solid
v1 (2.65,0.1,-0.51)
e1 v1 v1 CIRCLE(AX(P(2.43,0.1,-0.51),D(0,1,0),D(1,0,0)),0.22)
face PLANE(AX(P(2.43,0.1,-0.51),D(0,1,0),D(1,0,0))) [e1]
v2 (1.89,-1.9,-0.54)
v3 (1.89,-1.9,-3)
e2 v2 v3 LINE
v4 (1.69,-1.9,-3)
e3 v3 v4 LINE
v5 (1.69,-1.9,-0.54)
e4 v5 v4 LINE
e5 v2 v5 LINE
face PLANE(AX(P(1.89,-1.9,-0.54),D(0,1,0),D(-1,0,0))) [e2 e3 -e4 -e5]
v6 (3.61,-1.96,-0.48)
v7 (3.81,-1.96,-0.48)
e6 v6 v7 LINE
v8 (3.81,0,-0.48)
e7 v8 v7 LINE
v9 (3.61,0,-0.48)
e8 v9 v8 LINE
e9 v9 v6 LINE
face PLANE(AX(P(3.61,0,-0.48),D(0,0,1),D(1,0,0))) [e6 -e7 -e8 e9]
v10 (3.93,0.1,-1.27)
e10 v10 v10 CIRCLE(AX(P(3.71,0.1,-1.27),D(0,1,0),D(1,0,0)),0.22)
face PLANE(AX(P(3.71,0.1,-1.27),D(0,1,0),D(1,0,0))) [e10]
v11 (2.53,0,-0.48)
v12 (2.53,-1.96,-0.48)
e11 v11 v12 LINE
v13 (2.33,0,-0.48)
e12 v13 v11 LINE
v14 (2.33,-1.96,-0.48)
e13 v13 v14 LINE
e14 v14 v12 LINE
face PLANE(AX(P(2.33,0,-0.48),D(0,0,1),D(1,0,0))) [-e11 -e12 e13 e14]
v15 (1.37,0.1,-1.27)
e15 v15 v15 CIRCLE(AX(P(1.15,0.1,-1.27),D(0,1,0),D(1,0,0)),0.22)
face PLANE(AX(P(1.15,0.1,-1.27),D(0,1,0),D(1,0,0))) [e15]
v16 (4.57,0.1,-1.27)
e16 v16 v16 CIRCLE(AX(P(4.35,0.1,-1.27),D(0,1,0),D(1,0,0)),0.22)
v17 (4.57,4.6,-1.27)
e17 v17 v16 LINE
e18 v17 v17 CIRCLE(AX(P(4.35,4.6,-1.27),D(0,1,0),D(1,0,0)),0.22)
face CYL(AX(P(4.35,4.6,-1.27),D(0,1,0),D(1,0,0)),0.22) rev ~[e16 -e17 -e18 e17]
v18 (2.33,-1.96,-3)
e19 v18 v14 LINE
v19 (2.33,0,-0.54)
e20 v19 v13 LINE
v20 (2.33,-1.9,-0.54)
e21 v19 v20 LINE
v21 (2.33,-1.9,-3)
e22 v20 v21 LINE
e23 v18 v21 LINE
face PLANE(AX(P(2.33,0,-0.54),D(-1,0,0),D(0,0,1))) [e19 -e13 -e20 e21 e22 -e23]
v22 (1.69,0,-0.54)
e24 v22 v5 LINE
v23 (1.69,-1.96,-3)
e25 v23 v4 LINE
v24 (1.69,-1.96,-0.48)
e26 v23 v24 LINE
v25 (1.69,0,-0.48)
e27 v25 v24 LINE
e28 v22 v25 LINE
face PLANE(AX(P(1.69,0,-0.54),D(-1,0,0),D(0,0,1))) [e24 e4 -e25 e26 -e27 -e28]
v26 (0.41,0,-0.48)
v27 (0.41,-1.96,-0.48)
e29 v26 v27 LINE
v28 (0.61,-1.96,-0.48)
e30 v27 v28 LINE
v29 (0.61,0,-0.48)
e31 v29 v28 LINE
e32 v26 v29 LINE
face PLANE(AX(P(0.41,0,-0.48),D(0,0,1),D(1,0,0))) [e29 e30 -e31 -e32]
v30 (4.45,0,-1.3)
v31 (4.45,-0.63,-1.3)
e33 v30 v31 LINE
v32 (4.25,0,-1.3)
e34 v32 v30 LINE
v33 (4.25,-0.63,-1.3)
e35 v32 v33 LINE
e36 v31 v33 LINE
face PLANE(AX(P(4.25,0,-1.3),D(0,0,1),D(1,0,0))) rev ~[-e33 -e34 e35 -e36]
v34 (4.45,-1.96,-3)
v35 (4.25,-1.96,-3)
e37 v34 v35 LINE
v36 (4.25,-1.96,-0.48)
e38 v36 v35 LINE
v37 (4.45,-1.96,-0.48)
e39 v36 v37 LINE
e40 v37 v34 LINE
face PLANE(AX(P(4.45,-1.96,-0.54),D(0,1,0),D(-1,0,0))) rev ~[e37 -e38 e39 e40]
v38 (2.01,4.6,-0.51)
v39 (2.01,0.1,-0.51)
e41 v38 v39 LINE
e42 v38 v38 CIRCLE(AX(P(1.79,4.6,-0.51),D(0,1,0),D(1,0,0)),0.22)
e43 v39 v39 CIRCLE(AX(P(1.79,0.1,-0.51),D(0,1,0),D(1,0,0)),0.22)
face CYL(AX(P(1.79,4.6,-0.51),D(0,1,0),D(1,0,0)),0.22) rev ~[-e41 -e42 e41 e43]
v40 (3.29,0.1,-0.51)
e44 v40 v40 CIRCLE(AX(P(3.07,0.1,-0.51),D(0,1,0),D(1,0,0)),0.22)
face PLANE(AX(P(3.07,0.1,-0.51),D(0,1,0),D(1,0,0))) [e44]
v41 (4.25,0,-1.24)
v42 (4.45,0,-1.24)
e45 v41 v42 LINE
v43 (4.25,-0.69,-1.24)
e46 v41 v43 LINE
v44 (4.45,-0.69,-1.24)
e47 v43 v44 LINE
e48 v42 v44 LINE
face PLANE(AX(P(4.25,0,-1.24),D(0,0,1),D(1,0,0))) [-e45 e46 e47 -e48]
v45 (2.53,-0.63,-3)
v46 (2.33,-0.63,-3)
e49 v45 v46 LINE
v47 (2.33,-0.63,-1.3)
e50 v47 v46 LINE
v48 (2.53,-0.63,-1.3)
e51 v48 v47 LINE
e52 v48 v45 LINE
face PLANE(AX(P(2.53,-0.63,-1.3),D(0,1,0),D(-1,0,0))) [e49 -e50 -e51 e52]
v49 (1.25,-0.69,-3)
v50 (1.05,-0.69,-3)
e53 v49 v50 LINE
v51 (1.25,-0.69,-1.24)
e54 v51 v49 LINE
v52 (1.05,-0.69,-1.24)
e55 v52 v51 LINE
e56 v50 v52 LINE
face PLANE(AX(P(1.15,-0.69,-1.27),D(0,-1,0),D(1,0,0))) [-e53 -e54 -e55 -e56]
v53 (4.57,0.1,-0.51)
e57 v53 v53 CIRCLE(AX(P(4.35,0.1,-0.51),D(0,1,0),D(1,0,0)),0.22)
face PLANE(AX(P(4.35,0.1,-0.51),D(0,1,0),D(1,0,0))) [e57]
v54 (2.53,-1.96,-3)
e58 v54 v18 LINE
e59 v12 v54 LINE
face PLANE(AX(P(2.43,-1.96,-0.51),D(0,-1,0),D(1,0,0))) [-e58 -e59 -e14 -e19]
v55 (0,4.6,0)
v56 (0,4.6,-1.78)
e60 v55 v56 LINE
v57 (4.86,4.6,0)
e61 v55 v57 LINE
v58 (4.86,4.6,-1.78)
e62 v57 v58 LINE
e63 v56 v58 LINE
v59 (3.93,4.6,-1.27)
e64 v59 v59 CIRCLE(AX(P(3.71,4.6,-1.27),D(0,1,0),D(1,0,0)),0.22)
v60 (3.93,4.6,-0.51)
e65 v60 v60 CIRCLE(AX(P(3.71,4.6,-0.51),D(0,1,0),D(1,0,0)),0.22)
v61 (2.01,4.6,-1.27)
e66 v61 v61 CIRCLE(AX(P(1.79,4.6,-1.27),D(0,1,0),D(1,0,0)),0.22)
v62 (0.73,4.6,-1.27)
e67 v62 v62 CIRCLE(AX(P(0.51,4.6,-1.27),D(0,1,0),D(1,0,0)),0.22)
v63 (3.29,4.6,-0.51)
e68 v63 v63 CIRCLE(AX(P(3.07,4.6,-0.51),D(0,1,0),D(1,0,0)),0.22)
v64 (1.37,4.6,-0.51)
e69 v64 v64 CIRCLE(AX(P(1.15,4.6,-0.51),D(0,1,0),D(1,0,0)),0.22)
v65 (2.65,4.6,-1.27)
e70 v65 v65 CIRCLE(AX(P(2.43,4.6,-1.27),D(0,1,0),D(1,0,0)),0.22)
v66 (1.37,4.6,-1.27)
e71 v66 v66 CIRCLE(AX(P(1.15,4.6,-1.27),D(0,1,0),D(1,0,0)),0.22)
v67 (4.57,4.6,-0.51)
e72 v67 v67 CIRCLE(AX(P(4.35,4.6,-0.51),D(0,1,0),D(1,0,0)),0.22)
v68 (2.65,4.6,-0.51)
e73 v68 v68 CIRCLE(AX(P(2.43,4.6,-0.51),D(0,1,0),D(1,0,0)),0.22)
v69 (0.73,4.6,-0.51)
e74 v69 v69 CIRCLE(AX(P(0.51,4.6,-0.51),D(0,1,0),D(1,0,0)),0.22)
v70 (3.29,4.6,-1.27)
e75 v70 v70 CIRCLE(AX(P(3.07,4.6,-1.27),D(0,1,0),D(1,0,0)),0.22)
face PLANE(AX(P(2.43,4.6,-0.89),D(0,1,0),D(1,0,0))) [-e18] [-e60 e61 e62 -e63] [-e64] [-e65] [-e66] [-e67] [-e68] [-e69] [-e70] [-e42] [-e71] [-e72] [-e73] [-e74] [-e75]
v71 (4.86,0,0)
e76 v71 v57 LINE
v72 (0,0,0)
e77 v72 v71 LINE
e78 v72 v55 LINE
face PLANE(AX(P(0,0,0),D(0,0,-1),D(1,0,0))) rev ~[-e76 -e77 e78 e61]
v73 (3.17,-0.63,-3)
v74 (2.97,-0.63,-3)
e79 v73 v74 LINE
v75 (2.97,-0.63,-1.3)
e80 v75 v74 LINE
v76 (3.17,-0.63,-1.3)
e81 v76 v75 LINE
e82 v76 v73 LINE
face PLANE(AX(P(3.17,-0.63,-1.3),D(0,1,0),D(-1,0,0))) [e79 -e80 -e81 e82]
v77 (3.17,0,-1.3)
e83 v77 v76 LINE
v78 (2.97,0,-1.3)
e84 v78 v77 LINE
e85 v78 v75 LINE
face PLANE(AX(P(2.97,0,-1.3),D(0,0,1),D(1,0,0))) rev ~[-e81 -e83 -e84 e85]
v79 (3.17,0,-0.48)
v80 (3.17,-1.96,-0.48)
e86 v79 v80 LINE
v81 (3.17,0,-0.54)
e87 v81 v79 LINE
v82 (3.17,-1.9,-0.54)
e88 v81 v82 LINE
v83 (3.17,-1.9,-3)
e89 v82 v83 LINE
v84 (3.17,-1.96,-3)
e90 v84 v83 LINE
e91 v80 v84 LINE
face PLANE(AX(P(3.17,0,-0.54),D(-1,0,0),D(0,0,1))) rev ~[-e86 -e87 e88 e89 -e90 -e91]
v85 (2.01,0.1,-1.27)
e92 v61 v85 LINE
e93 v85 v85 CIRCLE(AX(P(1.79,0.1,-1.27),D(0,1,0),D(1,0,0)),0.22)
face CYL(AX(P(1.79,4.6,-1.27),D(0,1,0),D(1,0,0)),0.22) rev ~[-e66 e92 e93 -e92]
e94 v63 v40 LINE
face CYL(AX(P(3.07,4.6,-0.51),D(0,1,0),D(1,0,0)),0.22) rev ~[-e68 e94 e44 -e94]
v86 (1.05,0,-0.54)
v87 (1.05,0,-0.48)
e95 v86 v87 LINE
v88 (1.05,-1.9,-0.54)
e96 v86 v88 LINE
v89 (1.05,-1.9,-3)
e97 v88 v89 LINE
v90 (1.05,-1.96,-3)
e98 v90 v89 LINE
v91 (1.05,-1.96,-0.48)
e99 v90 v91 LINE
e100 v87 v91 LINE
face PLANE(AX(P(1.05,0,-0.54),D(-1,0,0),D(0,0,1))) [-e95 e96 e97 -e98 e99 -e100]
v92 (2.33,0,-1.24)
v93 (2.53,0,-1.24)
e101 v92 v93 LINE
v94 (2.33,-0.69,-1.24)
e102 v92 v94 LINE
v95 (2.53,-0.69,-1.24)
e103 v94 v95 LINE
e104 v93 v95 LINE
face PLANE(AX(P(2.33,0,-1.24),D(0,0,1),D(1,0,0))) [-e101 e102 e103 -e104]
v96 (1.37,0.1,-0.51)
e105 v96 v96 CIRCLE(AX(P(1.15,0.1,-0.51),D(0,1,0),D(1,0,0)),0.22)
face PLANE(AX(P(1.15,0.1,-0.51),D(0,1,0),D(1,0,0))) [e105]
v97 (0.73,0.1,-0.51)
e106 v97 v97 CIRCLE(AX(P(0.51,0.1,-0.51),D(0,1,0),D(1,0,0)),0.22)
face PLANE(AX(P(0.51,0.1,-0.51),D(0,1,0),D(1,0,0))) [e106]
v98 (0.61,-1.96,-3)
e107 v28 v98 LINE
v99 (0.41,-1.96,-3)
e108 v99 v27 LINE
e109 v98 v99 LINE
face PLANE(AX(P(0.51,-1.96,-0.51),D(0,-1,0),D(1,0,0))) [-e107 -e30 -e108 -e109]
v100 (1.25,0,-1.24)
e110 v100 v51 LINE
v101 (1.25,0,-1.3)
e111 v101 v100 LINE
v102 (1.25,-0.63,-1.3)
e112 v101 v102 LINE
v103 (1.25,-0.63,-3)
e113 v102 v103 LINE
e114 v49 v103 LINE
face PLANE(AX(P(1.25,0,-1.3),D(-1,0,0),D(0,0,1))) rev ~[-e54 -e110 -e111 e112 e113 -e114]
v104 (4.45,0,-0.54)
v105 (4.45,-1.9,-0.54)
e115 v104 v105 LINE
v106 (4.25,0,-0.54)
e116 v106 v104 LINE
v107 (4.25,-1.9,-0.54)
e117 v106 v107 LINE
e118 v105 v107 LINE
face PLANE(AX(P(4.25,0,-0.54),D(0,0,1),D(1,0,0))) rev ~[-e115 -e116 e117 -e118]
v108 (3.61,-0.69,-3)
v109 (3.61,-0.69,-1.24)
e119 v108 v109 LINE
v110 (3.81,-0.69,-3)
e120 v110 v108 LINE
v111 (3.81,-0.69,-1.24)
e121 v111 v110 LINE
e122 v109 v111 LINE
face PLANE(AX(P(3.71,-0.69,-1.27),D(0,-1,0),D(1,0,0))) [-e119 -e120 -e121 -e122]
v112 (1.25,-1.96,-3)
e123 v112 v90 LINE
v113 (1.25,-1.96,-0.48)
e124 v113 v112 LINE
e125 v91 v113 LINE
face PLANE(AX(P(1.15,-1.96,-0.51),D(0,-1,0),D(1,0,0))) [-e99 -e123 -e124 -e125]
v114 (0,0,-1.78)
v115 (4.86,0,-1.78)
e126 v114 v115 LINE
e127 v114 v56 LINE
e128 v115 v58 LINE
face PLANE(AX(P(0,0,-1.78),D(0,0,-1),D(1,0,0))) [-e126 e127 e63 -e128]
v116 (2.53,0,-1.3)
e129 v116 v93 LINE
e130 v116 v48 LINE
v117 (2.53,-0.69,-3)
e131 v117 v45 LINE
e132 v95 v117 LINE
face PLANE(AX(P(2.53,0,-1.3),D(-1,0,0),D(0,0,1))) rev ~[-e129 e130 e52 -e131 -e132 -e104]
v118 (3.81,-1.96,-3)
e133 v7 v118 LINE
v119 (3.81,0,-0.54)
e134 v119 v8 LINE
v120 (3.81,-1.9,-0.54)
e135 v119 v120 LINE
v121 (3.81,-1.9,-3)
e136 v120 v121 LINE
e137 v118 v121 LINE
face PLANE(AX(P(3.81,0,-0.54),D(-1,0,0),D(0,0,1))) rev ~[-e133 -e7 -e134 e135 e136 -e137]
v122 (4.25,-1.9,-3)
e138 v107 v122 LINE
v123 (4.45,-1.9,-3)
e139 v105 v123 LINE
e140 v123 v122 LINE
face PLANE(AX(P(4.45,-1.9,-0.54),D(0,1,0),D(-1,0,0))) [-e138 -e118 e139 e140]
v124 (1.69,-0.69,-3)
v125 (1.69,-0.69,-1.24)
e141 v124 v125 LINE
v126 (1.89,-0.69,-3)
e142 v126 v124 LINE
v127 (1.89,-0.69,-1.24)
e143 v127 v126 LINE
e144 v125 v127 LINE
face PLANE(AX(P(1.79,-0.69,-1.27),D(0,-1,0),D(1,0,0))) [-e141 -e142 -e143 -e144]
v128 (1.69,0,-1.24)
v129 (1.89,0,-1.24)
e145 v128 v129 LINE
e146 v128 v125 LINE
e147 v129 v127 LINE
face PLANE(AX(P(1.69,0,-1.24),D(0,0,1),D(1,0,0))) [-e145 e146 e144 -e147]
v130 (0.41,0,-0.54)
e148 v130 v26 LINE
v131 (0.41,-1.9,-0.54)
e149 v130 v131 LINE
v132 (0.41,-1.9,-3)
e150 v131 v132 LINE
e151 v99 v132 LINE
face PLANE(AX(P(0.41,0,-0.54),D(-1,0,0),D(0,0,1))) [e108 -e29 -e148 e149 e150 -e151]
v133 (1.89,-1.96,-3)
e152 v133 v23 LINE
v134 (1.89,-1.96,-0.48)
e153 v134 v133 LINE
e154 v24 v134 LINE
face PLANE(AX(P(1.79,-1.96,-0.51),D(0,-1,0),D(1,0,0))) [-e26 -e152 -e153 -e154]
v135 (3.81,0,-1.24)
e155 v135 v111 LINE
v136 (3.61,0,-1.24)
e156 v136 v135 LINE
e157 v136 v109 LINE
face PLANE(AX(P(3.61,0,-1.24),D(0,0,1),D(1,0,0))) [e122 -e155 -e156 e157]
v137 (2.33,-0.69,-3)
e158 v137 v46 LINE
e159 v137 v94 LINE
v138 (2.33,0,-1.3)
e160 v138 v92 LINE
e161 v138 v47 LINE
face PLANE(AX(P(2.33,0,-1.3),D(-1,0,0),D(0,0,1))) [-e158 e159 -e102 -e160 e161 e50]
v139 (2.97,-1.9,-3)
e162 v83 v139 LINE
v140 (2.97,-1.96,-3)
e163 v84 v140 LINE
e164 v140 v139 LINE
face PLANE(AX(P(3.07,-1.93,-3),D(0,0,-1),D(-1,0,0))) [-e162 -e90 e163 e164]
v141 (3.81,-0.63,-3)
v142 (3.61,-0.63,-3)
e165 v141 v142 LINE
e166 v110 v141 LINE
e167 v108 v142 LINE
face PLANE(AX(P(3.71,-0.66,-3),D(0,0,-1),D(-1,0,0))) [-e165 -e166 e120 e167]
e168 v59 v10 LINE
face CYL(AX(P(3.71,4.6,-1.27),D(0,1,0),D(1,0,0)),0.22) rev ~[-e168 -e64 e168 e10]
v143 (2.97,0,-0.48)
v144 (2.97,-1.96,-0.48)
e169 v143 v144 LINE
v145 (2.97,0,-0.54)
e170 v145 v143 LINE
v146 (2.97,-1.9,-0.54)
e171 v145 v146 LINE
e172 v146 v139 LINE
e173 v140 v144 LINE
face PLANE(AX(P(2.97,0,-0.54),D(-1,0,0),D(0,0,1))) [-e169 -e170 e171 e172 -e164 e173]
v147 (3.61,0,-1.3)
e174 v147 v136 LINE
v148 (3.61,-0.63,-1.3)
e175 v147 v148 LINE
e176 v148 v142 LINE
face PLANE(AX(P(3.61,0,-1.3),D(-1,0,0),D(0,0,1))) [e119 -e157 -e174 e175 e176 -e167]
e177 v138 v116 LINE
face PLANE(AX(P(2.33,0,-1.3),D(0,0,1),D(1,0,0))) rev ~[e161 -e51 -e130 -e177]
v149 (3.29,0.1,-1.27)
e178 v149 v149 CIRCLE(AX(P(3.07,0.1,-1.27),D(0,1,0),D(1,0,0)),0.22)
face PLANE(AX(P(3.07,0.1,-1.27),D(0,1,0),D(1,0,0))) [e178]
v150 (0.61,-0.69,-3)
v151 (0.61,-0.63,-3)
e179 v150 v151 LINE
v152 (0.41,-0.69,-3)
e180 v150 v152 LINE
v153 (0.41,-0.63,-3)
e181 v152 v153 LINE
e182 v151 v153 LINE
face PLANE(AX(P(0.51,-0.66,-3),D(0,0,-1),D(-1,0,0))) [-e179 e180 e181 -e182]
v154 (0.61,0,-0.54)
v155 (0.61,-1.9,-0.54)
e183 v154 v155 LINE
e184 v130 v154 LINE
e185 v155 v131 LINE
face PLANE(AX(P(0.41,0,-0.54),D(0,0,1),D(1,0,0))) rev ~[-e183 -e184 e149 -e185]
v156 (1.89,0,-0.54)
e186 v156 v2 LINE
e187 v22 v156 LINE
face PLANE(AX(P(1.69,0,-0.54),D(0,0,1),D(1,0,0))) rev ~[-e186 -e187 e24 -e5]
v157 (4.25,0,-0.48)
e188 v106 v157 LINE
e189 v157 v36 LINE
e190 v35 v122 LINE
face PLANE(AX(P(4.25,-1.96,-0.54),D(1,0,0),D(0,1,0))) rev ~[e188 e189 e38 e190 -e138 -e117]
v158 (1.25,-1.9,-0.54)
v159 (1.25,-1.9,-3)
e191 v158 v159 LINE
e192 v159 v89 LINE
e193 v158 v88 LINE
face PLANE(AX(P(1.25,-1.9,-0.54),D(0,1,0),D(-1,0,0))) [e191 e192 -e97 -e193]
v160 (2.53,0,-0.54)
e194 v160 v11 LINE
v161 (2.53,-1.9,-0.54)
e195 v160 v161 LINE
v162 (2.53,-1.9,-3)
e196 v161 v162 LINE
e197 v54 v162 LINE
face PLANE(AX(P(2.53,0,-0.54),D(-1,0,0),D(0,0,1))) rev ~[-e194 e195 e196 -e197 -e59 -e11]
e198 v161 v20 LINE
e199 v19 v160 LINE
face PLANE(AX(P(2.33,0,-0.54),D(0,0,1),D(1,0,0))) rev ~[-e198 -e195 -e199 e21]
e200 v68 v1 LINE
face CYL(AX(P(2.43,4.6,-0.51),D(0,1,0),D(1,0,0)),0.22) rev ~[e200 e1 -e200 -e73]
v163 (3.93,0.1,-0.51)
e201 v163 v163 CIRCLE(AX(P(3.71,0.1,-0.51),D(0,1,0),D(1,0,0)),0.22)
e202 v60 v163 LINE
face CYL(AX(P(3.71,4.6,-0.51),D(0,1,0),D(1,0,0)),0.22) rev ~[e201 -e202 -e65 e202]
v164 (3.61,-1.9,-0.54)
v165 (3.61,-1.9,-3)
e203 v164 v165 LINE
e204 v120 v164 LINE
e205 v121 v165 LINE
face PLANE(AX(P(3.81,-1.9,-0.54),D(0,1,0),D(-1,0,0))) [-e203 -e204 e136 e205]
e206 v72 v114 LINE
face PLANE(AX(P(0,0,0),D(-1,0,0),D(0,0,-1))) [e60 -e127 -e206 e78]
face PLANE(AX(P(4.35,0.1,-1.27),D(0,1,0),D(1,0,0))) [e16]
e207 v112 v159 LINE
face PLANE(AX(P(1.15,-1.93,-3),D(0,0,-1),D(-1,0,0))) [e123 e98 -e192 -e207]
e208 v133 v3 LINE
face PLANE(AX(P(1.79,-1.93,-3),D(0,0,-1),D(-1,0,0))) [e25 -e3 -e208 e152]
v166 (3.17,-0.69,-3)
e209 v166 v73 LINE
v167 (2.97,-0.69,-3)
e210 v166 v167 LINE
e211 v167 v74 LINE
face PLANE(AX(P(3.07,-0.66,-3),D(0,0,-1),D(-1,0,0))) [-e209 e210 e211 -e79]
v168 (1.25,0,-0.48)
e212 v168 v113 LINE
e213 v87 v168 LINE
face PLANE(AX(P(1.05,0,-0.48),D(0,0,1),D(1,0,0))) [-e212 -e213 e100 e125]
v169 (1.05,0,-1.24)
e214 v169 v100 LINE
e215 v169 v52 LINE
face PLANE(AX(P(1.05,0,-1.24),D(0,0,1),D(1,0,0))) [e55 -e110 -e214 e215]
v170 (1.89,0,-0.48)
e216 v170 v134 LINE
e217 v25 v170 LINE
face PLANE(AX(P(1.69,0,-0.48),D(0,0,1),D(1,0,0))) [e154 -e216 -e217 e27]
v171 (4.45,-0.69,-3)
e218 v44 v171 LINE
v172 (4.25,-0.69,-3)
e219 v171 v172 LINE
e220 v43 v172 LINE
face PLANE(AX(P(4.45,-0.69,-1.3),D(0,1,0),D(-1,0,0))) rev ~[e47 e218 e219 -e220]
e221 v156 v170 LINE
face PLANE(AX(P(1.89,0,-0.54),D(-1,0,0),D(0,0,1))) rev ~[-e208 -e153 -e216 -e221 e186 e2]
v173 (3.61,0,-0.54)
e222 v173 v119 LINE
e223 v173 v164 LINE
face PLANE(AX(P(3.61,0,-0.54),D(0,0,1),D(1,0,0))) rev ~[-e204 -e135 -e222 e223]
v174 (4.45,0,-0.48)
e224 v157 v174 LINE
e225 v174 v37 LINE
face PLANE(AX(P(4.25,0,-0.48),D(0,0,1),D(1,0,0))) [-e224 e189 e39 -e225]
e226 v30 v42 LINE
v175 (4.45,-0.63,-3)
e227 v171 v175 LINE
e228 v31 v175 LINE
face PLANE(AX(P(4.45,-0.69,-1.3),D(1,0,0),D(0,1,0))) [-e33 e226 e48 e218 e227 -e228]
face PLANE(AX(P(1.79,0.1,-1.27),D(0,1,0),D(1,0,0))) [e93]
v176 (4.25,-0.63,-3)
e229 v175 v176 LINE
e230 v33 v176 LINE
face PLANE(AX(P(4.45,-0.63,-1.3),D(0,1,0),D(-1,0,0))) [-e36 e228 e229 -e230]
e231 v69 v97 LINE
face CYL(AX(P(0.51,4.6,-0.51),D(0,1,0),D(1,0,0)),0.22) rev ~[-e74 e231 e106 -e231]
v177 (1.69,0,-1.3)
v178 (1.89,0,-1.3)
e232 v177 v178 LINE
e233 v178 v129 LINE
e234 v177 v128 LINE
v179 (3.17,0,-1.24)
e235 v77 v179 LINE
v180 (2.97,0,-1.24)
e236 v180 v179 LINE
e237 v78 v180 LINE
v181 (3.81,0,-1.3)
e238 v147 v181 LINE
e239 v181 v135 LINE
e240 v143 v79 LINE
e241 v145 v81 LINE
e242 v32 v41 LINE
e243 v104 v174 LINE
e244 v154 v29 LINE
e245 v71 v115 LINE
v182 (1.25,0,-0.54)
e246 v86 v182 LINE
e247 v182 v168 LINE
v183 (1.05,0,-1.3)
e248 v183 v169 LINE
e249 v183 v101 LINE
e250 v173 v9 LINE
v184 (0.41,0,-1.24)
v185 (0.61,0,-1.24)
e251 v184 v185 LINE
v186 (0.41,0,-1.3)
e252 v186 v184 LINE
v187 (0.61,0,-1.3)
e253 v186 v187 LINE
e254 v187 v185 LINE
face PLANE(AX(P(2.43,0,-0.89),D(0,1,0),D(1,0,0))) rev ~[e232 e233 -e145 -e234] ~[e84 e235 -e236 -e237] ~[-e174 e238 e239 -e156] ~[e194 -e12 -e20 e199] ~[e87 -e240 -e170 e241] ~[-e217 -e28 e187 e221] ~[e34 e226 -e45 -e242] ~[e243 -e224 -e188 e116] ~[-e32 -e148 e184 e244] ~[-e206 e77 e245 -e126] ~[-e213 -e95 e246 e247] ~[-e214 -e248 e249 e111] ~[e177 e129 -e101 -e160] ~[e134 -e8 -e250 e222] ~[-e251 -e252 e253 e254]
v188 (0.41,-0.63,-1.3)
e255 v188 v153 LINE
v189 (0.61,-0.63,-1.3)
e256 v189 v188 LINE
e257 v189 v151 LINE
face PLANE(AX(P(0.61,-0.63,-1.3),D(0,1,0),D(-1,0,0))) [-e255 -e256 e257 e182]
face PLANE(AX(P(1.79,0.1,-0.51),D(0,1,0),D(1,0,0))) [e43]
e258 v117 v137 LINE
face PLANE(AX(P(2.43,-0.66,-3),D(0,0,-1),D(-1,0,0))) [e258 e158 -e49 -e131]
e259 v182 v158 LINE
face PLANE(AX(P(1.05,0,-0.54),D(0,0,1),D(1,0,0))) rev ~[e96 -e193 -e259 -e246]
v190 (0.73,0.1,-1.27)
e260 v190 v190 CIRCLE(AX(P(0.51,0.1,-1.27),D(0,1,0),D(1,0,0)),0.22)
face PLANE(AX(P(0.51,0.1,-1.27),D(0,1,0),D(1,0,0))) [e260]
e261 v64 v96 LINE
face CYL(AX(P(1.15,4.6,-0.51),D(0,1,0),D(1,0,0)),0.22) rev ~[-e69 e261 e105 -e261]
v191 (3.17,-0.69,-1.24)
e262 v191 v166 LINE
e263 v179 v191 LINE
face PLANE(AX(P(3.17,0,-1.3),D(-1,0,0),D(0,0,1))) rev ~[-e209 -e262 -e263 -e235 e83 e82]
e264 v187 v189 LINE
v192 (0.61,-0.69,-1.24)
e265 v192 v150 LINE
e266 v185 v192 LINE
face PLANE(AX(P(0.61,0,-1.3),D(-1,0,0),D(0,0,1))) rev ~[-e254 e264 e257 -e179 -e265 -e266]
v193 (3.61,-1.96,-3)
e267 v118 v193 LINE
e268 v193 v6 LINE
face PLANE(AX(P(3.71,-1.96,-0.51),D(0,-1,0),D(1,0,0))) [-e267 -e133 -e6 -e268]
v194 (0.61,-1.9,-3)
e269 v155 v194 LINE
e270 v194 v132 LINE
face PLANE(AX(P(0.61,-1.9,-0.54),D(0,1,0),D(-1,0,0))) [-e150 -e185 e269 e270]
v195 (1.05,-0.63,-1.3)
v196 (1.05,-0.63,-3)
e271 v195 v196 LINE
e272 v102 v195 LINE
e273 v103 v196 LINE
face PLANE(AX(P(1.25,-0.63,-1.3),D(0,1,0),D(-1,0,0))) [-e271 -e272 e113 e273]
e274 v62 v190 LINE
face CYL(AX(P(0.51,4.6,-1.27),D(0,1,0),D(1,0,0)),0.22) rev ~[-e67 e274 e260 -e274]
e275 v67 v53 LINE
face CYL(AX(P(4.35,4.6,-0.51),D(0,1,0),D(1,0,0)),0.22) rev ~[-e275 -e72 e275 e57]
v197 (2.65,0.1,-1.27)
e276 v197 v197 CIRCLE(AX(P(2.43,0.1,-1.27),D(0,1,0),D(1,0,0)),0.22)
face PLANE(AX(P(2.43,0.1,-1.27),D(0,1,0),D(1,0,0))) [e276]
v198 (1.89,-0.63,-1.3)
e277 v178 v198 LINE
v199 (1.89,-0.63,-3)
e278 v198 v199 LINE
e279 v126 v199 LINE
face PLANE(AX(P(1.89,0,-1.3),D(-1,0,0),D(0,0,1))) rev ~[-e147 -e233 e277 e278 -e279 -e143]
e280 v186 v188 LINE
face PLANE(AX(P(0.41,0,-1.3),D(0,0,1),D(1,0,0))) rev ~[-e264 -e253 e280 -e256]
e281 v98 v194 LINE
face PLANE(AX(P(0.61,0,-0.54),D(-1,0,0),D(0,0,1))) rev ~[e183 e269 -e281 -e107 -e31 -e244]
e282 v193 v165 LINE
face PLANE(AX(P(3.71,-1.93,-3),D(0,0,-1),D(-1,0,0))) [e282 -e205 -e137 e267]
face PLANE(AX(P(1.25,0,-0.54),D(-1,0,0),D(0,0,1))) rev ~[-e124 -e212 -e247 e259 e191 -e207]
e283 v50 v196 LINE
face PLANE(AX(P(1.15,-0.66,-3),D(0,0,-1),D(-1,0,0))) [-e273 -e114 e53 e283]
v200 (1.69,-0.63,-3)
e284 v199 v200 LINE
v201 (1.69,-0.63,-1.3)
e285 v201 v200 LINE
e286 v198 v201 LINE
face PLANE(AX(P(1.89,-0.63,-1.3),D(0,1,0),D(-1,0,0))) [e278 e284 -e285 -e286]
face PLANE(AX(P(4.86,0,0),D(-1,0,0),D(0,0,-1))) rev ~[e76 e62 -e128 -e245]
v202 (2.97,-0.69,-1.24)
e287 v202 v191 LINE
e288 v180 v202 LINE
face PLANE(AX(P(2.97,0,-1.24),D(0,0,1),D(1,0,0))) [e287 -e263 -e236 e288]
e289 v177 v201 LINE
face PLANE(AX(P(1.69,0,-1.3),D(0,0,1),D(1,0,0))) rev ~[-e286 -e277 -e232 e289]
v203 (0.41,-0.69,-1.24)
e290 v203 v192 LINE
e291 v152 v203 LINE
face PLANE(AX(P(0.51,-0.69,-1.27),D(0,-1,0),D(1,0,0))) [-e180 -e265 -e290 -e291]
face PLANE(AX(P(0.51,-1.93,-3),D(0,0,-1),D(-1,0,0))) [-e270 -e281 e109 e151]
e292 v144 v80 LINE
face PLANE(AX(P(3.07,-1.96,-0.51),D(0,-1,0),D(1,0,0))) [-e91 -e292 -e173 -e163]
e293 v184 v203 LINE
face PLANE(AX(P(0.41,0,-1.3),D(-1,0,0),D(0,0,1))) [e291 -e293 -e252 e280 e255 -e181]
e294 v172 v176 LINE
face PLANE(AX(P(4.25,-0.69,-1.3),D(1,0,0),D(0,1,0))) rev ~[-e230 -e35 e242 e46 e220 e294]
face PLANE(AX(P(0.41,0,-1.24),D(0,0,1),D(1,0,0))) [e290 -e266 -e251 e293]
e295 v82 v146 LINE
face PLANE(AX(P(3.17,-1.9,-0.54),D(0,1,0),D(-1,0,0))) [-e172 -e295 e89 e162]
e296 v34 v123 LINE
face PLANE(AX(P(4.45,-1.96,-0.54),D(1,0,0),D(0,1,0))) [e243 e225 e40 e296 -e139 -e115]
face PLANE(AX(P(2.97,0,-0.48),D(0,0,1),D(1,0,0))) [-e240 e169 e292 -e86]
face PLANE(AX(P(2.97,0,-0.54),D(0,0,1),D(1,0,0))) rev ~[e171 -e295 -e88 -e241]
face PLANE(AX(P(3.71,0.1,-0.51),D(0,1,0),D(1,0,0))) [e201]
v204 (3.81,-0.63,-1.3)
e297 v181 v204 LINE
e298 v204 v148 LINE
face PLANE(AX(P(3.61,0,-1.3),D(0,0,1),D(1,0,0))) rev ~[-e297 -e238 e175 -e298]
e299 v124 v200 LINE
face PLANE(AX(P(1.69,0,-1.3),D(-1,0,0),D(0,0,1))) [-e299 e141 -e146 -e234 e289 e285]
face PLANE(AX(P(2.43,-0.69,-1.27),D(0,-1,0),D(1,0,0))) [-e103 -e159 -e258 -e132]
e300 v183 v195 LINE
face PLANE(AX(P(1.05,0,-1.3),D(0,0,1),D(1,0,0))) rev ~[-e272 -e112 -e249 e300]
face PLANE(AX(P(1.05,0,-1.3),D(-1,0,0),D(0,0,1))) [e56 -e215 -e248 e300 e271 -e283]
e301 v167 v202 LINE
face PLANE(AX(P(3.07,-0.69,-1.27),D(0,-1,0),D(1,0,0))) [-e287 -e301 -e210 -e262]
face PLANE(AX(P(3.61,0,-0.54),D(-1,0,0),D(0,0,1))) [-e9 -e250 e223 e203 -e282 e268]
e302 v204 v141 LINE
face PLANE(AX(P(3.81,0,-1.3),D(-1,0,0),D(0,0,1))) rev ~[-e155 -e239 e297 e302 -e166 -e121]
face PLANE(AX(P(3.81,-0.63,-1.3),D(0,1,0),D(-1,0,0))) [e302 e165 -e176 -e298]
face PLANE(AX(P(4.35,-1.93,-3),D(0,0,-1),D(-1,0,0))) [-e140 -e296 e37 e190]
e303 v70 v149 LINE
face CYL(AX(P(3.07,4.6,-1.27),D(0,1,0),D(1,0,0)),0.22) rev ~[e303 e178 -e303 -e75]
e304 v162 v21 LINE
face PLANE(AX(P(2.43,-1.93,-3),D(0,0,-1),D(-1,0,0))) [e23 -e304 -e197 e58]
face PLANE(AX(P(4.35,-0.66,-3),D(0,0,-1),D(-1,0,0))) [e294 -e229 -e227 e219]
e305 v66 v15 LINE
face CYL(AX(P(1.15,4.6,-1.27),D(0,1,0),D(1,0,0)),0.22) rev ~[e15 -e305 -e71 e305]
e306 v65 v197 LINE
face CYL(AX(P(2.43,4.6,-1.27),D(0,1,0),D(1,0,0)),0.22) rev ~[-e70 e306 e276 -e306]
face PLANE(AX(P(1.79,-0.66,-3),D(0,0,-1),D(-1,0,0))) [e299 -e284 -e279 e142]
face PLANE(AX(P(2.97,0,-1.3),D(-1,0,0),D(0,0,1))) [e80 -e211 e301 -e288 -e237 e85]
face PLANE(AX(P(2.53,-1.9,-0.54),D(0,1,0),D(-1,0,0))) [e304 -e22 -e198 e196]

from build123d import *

# Parameters (mm, degrees)
SKETCH2_W           = 4.86
SKETCH2_H           = 1.78
BOSS_EXTRUDE1_DEPTH = 4.6
SKETCH3_R           = 0.22
CUT_EXTRUDE1_DEPTH  = 4.5
SKETCH4_W           = 0.2
SKETCH4_H           = 0.06
BOSS_EXTRUDE2_DEPTH = 1.96
SKETCH6_W           = 0.2
SKETCH6_H           = 0.06
BOSS_EXTRUDE3_DEPTH = 0.69
SKETCH7_W           = 0.2
SKETCH7_H           = 0.06
BOSS_EXTRUDE4_DEPTH = 1.7
SKETCH8_W           = 0.2
SKETCH8_H           = 0.06
BOSS_EXTRUDE5_DEPTH = 2.46


with BuildPart() as part:
    # Sketch2 → Boss-Extrude1 (new body)
    with BuildSketch(Plane(origin=(0, 0, 0), x_dir=(1, 0, 0), z_dir=(0, 1, 0))):
        with Locations((2.43, 0.89)):
            Rectangle(SKETCH2_W, SKETCH2_H)
    extrude(amount=BOSS_EXTRUDE1_DEPTH)

    # Sketch3 → Cut-Extrude1 (cut)
    with BuildSketch(Plane(origin=(0, 4.6, 0), x_dir=(1, 0, 0), z_dir=(0, 1, 0))):
        with Locations((0.51, 1.27)):
            Circle(SKETCH3_R)
        with Locations((1.15, 1.27)):
            Circle(SKETCH3_R)
        with Locations((1.79, 1.27)):
            Circle(SKETCH3_R)
        with Locations((2.43, 1.27)):
            Circle(SKETCH3_R)
        with Locations((3.07, 1.27)):
            Circle(SKETCH3_R)
        with Locations((3.71, 1.27)):
            Circle(SKETCH3_R)
        with Locations((4.35, 1.27)):
            Circle(SKETCH3_R)
        with Locations((1.15, 0.51)):
            Circle(SKETCH3_R)
        with Locations((1.79, 0.51)):
            Circle(SKETCH3_R)
        with Locations((2.43, 0.51)):
            Circle(SKETCH3_R)
        with Locations((3.07, 0.51)):
            Circle(SKETCH3_R)
        with Locations((3.71, 0.51)):
            Circle(SKETCH3_R)
        with Locations((4.35, 0.51)):
            Circle(SKETCH3_R)
        with Locations((0.51, 0.51)):
            Circle(SKETCH3_R)
    extrude(amount=-CUT_EXTRUDE1_DEPTH, mode=Mode.SUBTRACT)

    # Sketch4 → Boss-Extrude2 (add)
    with BuildSketch(Plane.XZ):
        with Locations((0.51, -0.51)):
            Rectangle(SKETCH4_W, SKETCH4_H)
        with Locations((1.15, -0.51)):
            Rectangle(SKETCH4_W, SKETCH4_H)
        with Locations((1.79, -0.51)):
            Rectangle(SKETCH4_W, SKETCH4_H)
        with Locations((2.43, -0.51)):
            Rectangle(SKETCH4_W, SKETCH4_H)
        with Locations((3.07, -0.51)):
            Rectangle(SKETCH4_W, SKETCH4_H)
        with Locations((3.71, -0.51)):
            Rectangle(SKETCH4_W, SKETCH4_H)
        with Locations((4.35, -0.51)):
            Rectangle(SKETCH4_W, SKETCH4_H)
    extrude(amount=BOSS_EXTRUDE2_DEPTH)

    # Sketch6 → Boss-Extrude3 (add)
    with BuildSketch(Plane.XZ):
        with Locations((0.51, -1.27)):
            Rectangle(SKETCH6_W, SKETCH6_H)
        with Locations((1.15, -1.27)):
            Rectangle(SKETCH6_W, SKETCH6_H)
        with Locations((1.79, -1.27)):
            Rectangle(SKETCH6_W, SKETCH6_H)
        with Locations((2.43, -1.27)):
            Rectangle(SKETCH6_W, SKETCH6_H)
        with Locations((3.07, -1.27)):
            Rectangle(SKETCH6_W, SKETCH6_H)
        with Locations((3.71, -1.27)):
            Rectangle(SKETCH6_W, SKETCH6_H)
        with Locations((4.35, -1.27)):
            Rectangle(SKETCH6_W, SKETCH6_H)
    extrude(amount=BOSS_EXTRUDE3_DEPTH)

    # Sketch7 → Boss-Extrude4 (add)
    with BuildSketch(Plane(origin=(0, 0, -1.3), x_dir=(-1, 0, 0), z_dir=(0, 0, -1))):
        with Locations((-4.35, -0.66)):
            Rectangle(SKETCH7_W, SKETCH7_H)
        with Locations((-3.71, -0.66)):
            Rectangle(SKETCH7_W, SKETCH7_H)
        with Locations((-3.07, -0.66)):
            Rectangle(SKETCH7_W, SKETCH7_H)
        with Locations((-2.43, -0.66)):
            Rectangle(SKETCH7_W, SKETCH7_H)
        with Locations((-1.79, -0.66)):
            Rectangle(SKETCH7_W, SKETCH7_H)
        with Locations((-1.15, -0.66)):
            Rectangle(SKETCH7_W, SKETCH7_H)
        with Locations((-0.51, -0.66)):
            Rectangle(SKETCH7_W, SKETCH7_H)
    extrude(amount=BOSS_EXTRUDE4_DEPTH)

    # Sketch8 → Boss-Extrude5 (add)
    with BuildSketch(Plane(origin=(0, 0, -0.54), x_dir=(-1, 0, 0), z_dir=(0, 0, -1))):
        with Locations((-4.35, -1.93)):
            Rectangle(SKETCH8_W, SKETCH8_H)
        with Locations((-3.71, -1.93)):
            Rectangle(SKETCH8_W, SKETCH8_H)
        with Locations((-3.07, -1.93)):
            Rectangle(SKETCH8_W, SKETCH8_H)
        with Locations((-2.43, -1.93)):
            Rectangle(SKETCH8_W, SKETCH8_H)
        with Locations((-1.79, -1.93)):
            Rectangle(SKETCH8_W, SKETCH8_H)
        with Locations((-1.15, -1.93)):
            Rectangle(SKETCH8_W, SKETCH8_H)
        with Locations((-0.51, -1.93)):
            Rectangle(SKETCH8_W, SKETCH8_H)
    extrude(amount=BOSS_EXTRUDE5_DEPTH)


solid = part.part
